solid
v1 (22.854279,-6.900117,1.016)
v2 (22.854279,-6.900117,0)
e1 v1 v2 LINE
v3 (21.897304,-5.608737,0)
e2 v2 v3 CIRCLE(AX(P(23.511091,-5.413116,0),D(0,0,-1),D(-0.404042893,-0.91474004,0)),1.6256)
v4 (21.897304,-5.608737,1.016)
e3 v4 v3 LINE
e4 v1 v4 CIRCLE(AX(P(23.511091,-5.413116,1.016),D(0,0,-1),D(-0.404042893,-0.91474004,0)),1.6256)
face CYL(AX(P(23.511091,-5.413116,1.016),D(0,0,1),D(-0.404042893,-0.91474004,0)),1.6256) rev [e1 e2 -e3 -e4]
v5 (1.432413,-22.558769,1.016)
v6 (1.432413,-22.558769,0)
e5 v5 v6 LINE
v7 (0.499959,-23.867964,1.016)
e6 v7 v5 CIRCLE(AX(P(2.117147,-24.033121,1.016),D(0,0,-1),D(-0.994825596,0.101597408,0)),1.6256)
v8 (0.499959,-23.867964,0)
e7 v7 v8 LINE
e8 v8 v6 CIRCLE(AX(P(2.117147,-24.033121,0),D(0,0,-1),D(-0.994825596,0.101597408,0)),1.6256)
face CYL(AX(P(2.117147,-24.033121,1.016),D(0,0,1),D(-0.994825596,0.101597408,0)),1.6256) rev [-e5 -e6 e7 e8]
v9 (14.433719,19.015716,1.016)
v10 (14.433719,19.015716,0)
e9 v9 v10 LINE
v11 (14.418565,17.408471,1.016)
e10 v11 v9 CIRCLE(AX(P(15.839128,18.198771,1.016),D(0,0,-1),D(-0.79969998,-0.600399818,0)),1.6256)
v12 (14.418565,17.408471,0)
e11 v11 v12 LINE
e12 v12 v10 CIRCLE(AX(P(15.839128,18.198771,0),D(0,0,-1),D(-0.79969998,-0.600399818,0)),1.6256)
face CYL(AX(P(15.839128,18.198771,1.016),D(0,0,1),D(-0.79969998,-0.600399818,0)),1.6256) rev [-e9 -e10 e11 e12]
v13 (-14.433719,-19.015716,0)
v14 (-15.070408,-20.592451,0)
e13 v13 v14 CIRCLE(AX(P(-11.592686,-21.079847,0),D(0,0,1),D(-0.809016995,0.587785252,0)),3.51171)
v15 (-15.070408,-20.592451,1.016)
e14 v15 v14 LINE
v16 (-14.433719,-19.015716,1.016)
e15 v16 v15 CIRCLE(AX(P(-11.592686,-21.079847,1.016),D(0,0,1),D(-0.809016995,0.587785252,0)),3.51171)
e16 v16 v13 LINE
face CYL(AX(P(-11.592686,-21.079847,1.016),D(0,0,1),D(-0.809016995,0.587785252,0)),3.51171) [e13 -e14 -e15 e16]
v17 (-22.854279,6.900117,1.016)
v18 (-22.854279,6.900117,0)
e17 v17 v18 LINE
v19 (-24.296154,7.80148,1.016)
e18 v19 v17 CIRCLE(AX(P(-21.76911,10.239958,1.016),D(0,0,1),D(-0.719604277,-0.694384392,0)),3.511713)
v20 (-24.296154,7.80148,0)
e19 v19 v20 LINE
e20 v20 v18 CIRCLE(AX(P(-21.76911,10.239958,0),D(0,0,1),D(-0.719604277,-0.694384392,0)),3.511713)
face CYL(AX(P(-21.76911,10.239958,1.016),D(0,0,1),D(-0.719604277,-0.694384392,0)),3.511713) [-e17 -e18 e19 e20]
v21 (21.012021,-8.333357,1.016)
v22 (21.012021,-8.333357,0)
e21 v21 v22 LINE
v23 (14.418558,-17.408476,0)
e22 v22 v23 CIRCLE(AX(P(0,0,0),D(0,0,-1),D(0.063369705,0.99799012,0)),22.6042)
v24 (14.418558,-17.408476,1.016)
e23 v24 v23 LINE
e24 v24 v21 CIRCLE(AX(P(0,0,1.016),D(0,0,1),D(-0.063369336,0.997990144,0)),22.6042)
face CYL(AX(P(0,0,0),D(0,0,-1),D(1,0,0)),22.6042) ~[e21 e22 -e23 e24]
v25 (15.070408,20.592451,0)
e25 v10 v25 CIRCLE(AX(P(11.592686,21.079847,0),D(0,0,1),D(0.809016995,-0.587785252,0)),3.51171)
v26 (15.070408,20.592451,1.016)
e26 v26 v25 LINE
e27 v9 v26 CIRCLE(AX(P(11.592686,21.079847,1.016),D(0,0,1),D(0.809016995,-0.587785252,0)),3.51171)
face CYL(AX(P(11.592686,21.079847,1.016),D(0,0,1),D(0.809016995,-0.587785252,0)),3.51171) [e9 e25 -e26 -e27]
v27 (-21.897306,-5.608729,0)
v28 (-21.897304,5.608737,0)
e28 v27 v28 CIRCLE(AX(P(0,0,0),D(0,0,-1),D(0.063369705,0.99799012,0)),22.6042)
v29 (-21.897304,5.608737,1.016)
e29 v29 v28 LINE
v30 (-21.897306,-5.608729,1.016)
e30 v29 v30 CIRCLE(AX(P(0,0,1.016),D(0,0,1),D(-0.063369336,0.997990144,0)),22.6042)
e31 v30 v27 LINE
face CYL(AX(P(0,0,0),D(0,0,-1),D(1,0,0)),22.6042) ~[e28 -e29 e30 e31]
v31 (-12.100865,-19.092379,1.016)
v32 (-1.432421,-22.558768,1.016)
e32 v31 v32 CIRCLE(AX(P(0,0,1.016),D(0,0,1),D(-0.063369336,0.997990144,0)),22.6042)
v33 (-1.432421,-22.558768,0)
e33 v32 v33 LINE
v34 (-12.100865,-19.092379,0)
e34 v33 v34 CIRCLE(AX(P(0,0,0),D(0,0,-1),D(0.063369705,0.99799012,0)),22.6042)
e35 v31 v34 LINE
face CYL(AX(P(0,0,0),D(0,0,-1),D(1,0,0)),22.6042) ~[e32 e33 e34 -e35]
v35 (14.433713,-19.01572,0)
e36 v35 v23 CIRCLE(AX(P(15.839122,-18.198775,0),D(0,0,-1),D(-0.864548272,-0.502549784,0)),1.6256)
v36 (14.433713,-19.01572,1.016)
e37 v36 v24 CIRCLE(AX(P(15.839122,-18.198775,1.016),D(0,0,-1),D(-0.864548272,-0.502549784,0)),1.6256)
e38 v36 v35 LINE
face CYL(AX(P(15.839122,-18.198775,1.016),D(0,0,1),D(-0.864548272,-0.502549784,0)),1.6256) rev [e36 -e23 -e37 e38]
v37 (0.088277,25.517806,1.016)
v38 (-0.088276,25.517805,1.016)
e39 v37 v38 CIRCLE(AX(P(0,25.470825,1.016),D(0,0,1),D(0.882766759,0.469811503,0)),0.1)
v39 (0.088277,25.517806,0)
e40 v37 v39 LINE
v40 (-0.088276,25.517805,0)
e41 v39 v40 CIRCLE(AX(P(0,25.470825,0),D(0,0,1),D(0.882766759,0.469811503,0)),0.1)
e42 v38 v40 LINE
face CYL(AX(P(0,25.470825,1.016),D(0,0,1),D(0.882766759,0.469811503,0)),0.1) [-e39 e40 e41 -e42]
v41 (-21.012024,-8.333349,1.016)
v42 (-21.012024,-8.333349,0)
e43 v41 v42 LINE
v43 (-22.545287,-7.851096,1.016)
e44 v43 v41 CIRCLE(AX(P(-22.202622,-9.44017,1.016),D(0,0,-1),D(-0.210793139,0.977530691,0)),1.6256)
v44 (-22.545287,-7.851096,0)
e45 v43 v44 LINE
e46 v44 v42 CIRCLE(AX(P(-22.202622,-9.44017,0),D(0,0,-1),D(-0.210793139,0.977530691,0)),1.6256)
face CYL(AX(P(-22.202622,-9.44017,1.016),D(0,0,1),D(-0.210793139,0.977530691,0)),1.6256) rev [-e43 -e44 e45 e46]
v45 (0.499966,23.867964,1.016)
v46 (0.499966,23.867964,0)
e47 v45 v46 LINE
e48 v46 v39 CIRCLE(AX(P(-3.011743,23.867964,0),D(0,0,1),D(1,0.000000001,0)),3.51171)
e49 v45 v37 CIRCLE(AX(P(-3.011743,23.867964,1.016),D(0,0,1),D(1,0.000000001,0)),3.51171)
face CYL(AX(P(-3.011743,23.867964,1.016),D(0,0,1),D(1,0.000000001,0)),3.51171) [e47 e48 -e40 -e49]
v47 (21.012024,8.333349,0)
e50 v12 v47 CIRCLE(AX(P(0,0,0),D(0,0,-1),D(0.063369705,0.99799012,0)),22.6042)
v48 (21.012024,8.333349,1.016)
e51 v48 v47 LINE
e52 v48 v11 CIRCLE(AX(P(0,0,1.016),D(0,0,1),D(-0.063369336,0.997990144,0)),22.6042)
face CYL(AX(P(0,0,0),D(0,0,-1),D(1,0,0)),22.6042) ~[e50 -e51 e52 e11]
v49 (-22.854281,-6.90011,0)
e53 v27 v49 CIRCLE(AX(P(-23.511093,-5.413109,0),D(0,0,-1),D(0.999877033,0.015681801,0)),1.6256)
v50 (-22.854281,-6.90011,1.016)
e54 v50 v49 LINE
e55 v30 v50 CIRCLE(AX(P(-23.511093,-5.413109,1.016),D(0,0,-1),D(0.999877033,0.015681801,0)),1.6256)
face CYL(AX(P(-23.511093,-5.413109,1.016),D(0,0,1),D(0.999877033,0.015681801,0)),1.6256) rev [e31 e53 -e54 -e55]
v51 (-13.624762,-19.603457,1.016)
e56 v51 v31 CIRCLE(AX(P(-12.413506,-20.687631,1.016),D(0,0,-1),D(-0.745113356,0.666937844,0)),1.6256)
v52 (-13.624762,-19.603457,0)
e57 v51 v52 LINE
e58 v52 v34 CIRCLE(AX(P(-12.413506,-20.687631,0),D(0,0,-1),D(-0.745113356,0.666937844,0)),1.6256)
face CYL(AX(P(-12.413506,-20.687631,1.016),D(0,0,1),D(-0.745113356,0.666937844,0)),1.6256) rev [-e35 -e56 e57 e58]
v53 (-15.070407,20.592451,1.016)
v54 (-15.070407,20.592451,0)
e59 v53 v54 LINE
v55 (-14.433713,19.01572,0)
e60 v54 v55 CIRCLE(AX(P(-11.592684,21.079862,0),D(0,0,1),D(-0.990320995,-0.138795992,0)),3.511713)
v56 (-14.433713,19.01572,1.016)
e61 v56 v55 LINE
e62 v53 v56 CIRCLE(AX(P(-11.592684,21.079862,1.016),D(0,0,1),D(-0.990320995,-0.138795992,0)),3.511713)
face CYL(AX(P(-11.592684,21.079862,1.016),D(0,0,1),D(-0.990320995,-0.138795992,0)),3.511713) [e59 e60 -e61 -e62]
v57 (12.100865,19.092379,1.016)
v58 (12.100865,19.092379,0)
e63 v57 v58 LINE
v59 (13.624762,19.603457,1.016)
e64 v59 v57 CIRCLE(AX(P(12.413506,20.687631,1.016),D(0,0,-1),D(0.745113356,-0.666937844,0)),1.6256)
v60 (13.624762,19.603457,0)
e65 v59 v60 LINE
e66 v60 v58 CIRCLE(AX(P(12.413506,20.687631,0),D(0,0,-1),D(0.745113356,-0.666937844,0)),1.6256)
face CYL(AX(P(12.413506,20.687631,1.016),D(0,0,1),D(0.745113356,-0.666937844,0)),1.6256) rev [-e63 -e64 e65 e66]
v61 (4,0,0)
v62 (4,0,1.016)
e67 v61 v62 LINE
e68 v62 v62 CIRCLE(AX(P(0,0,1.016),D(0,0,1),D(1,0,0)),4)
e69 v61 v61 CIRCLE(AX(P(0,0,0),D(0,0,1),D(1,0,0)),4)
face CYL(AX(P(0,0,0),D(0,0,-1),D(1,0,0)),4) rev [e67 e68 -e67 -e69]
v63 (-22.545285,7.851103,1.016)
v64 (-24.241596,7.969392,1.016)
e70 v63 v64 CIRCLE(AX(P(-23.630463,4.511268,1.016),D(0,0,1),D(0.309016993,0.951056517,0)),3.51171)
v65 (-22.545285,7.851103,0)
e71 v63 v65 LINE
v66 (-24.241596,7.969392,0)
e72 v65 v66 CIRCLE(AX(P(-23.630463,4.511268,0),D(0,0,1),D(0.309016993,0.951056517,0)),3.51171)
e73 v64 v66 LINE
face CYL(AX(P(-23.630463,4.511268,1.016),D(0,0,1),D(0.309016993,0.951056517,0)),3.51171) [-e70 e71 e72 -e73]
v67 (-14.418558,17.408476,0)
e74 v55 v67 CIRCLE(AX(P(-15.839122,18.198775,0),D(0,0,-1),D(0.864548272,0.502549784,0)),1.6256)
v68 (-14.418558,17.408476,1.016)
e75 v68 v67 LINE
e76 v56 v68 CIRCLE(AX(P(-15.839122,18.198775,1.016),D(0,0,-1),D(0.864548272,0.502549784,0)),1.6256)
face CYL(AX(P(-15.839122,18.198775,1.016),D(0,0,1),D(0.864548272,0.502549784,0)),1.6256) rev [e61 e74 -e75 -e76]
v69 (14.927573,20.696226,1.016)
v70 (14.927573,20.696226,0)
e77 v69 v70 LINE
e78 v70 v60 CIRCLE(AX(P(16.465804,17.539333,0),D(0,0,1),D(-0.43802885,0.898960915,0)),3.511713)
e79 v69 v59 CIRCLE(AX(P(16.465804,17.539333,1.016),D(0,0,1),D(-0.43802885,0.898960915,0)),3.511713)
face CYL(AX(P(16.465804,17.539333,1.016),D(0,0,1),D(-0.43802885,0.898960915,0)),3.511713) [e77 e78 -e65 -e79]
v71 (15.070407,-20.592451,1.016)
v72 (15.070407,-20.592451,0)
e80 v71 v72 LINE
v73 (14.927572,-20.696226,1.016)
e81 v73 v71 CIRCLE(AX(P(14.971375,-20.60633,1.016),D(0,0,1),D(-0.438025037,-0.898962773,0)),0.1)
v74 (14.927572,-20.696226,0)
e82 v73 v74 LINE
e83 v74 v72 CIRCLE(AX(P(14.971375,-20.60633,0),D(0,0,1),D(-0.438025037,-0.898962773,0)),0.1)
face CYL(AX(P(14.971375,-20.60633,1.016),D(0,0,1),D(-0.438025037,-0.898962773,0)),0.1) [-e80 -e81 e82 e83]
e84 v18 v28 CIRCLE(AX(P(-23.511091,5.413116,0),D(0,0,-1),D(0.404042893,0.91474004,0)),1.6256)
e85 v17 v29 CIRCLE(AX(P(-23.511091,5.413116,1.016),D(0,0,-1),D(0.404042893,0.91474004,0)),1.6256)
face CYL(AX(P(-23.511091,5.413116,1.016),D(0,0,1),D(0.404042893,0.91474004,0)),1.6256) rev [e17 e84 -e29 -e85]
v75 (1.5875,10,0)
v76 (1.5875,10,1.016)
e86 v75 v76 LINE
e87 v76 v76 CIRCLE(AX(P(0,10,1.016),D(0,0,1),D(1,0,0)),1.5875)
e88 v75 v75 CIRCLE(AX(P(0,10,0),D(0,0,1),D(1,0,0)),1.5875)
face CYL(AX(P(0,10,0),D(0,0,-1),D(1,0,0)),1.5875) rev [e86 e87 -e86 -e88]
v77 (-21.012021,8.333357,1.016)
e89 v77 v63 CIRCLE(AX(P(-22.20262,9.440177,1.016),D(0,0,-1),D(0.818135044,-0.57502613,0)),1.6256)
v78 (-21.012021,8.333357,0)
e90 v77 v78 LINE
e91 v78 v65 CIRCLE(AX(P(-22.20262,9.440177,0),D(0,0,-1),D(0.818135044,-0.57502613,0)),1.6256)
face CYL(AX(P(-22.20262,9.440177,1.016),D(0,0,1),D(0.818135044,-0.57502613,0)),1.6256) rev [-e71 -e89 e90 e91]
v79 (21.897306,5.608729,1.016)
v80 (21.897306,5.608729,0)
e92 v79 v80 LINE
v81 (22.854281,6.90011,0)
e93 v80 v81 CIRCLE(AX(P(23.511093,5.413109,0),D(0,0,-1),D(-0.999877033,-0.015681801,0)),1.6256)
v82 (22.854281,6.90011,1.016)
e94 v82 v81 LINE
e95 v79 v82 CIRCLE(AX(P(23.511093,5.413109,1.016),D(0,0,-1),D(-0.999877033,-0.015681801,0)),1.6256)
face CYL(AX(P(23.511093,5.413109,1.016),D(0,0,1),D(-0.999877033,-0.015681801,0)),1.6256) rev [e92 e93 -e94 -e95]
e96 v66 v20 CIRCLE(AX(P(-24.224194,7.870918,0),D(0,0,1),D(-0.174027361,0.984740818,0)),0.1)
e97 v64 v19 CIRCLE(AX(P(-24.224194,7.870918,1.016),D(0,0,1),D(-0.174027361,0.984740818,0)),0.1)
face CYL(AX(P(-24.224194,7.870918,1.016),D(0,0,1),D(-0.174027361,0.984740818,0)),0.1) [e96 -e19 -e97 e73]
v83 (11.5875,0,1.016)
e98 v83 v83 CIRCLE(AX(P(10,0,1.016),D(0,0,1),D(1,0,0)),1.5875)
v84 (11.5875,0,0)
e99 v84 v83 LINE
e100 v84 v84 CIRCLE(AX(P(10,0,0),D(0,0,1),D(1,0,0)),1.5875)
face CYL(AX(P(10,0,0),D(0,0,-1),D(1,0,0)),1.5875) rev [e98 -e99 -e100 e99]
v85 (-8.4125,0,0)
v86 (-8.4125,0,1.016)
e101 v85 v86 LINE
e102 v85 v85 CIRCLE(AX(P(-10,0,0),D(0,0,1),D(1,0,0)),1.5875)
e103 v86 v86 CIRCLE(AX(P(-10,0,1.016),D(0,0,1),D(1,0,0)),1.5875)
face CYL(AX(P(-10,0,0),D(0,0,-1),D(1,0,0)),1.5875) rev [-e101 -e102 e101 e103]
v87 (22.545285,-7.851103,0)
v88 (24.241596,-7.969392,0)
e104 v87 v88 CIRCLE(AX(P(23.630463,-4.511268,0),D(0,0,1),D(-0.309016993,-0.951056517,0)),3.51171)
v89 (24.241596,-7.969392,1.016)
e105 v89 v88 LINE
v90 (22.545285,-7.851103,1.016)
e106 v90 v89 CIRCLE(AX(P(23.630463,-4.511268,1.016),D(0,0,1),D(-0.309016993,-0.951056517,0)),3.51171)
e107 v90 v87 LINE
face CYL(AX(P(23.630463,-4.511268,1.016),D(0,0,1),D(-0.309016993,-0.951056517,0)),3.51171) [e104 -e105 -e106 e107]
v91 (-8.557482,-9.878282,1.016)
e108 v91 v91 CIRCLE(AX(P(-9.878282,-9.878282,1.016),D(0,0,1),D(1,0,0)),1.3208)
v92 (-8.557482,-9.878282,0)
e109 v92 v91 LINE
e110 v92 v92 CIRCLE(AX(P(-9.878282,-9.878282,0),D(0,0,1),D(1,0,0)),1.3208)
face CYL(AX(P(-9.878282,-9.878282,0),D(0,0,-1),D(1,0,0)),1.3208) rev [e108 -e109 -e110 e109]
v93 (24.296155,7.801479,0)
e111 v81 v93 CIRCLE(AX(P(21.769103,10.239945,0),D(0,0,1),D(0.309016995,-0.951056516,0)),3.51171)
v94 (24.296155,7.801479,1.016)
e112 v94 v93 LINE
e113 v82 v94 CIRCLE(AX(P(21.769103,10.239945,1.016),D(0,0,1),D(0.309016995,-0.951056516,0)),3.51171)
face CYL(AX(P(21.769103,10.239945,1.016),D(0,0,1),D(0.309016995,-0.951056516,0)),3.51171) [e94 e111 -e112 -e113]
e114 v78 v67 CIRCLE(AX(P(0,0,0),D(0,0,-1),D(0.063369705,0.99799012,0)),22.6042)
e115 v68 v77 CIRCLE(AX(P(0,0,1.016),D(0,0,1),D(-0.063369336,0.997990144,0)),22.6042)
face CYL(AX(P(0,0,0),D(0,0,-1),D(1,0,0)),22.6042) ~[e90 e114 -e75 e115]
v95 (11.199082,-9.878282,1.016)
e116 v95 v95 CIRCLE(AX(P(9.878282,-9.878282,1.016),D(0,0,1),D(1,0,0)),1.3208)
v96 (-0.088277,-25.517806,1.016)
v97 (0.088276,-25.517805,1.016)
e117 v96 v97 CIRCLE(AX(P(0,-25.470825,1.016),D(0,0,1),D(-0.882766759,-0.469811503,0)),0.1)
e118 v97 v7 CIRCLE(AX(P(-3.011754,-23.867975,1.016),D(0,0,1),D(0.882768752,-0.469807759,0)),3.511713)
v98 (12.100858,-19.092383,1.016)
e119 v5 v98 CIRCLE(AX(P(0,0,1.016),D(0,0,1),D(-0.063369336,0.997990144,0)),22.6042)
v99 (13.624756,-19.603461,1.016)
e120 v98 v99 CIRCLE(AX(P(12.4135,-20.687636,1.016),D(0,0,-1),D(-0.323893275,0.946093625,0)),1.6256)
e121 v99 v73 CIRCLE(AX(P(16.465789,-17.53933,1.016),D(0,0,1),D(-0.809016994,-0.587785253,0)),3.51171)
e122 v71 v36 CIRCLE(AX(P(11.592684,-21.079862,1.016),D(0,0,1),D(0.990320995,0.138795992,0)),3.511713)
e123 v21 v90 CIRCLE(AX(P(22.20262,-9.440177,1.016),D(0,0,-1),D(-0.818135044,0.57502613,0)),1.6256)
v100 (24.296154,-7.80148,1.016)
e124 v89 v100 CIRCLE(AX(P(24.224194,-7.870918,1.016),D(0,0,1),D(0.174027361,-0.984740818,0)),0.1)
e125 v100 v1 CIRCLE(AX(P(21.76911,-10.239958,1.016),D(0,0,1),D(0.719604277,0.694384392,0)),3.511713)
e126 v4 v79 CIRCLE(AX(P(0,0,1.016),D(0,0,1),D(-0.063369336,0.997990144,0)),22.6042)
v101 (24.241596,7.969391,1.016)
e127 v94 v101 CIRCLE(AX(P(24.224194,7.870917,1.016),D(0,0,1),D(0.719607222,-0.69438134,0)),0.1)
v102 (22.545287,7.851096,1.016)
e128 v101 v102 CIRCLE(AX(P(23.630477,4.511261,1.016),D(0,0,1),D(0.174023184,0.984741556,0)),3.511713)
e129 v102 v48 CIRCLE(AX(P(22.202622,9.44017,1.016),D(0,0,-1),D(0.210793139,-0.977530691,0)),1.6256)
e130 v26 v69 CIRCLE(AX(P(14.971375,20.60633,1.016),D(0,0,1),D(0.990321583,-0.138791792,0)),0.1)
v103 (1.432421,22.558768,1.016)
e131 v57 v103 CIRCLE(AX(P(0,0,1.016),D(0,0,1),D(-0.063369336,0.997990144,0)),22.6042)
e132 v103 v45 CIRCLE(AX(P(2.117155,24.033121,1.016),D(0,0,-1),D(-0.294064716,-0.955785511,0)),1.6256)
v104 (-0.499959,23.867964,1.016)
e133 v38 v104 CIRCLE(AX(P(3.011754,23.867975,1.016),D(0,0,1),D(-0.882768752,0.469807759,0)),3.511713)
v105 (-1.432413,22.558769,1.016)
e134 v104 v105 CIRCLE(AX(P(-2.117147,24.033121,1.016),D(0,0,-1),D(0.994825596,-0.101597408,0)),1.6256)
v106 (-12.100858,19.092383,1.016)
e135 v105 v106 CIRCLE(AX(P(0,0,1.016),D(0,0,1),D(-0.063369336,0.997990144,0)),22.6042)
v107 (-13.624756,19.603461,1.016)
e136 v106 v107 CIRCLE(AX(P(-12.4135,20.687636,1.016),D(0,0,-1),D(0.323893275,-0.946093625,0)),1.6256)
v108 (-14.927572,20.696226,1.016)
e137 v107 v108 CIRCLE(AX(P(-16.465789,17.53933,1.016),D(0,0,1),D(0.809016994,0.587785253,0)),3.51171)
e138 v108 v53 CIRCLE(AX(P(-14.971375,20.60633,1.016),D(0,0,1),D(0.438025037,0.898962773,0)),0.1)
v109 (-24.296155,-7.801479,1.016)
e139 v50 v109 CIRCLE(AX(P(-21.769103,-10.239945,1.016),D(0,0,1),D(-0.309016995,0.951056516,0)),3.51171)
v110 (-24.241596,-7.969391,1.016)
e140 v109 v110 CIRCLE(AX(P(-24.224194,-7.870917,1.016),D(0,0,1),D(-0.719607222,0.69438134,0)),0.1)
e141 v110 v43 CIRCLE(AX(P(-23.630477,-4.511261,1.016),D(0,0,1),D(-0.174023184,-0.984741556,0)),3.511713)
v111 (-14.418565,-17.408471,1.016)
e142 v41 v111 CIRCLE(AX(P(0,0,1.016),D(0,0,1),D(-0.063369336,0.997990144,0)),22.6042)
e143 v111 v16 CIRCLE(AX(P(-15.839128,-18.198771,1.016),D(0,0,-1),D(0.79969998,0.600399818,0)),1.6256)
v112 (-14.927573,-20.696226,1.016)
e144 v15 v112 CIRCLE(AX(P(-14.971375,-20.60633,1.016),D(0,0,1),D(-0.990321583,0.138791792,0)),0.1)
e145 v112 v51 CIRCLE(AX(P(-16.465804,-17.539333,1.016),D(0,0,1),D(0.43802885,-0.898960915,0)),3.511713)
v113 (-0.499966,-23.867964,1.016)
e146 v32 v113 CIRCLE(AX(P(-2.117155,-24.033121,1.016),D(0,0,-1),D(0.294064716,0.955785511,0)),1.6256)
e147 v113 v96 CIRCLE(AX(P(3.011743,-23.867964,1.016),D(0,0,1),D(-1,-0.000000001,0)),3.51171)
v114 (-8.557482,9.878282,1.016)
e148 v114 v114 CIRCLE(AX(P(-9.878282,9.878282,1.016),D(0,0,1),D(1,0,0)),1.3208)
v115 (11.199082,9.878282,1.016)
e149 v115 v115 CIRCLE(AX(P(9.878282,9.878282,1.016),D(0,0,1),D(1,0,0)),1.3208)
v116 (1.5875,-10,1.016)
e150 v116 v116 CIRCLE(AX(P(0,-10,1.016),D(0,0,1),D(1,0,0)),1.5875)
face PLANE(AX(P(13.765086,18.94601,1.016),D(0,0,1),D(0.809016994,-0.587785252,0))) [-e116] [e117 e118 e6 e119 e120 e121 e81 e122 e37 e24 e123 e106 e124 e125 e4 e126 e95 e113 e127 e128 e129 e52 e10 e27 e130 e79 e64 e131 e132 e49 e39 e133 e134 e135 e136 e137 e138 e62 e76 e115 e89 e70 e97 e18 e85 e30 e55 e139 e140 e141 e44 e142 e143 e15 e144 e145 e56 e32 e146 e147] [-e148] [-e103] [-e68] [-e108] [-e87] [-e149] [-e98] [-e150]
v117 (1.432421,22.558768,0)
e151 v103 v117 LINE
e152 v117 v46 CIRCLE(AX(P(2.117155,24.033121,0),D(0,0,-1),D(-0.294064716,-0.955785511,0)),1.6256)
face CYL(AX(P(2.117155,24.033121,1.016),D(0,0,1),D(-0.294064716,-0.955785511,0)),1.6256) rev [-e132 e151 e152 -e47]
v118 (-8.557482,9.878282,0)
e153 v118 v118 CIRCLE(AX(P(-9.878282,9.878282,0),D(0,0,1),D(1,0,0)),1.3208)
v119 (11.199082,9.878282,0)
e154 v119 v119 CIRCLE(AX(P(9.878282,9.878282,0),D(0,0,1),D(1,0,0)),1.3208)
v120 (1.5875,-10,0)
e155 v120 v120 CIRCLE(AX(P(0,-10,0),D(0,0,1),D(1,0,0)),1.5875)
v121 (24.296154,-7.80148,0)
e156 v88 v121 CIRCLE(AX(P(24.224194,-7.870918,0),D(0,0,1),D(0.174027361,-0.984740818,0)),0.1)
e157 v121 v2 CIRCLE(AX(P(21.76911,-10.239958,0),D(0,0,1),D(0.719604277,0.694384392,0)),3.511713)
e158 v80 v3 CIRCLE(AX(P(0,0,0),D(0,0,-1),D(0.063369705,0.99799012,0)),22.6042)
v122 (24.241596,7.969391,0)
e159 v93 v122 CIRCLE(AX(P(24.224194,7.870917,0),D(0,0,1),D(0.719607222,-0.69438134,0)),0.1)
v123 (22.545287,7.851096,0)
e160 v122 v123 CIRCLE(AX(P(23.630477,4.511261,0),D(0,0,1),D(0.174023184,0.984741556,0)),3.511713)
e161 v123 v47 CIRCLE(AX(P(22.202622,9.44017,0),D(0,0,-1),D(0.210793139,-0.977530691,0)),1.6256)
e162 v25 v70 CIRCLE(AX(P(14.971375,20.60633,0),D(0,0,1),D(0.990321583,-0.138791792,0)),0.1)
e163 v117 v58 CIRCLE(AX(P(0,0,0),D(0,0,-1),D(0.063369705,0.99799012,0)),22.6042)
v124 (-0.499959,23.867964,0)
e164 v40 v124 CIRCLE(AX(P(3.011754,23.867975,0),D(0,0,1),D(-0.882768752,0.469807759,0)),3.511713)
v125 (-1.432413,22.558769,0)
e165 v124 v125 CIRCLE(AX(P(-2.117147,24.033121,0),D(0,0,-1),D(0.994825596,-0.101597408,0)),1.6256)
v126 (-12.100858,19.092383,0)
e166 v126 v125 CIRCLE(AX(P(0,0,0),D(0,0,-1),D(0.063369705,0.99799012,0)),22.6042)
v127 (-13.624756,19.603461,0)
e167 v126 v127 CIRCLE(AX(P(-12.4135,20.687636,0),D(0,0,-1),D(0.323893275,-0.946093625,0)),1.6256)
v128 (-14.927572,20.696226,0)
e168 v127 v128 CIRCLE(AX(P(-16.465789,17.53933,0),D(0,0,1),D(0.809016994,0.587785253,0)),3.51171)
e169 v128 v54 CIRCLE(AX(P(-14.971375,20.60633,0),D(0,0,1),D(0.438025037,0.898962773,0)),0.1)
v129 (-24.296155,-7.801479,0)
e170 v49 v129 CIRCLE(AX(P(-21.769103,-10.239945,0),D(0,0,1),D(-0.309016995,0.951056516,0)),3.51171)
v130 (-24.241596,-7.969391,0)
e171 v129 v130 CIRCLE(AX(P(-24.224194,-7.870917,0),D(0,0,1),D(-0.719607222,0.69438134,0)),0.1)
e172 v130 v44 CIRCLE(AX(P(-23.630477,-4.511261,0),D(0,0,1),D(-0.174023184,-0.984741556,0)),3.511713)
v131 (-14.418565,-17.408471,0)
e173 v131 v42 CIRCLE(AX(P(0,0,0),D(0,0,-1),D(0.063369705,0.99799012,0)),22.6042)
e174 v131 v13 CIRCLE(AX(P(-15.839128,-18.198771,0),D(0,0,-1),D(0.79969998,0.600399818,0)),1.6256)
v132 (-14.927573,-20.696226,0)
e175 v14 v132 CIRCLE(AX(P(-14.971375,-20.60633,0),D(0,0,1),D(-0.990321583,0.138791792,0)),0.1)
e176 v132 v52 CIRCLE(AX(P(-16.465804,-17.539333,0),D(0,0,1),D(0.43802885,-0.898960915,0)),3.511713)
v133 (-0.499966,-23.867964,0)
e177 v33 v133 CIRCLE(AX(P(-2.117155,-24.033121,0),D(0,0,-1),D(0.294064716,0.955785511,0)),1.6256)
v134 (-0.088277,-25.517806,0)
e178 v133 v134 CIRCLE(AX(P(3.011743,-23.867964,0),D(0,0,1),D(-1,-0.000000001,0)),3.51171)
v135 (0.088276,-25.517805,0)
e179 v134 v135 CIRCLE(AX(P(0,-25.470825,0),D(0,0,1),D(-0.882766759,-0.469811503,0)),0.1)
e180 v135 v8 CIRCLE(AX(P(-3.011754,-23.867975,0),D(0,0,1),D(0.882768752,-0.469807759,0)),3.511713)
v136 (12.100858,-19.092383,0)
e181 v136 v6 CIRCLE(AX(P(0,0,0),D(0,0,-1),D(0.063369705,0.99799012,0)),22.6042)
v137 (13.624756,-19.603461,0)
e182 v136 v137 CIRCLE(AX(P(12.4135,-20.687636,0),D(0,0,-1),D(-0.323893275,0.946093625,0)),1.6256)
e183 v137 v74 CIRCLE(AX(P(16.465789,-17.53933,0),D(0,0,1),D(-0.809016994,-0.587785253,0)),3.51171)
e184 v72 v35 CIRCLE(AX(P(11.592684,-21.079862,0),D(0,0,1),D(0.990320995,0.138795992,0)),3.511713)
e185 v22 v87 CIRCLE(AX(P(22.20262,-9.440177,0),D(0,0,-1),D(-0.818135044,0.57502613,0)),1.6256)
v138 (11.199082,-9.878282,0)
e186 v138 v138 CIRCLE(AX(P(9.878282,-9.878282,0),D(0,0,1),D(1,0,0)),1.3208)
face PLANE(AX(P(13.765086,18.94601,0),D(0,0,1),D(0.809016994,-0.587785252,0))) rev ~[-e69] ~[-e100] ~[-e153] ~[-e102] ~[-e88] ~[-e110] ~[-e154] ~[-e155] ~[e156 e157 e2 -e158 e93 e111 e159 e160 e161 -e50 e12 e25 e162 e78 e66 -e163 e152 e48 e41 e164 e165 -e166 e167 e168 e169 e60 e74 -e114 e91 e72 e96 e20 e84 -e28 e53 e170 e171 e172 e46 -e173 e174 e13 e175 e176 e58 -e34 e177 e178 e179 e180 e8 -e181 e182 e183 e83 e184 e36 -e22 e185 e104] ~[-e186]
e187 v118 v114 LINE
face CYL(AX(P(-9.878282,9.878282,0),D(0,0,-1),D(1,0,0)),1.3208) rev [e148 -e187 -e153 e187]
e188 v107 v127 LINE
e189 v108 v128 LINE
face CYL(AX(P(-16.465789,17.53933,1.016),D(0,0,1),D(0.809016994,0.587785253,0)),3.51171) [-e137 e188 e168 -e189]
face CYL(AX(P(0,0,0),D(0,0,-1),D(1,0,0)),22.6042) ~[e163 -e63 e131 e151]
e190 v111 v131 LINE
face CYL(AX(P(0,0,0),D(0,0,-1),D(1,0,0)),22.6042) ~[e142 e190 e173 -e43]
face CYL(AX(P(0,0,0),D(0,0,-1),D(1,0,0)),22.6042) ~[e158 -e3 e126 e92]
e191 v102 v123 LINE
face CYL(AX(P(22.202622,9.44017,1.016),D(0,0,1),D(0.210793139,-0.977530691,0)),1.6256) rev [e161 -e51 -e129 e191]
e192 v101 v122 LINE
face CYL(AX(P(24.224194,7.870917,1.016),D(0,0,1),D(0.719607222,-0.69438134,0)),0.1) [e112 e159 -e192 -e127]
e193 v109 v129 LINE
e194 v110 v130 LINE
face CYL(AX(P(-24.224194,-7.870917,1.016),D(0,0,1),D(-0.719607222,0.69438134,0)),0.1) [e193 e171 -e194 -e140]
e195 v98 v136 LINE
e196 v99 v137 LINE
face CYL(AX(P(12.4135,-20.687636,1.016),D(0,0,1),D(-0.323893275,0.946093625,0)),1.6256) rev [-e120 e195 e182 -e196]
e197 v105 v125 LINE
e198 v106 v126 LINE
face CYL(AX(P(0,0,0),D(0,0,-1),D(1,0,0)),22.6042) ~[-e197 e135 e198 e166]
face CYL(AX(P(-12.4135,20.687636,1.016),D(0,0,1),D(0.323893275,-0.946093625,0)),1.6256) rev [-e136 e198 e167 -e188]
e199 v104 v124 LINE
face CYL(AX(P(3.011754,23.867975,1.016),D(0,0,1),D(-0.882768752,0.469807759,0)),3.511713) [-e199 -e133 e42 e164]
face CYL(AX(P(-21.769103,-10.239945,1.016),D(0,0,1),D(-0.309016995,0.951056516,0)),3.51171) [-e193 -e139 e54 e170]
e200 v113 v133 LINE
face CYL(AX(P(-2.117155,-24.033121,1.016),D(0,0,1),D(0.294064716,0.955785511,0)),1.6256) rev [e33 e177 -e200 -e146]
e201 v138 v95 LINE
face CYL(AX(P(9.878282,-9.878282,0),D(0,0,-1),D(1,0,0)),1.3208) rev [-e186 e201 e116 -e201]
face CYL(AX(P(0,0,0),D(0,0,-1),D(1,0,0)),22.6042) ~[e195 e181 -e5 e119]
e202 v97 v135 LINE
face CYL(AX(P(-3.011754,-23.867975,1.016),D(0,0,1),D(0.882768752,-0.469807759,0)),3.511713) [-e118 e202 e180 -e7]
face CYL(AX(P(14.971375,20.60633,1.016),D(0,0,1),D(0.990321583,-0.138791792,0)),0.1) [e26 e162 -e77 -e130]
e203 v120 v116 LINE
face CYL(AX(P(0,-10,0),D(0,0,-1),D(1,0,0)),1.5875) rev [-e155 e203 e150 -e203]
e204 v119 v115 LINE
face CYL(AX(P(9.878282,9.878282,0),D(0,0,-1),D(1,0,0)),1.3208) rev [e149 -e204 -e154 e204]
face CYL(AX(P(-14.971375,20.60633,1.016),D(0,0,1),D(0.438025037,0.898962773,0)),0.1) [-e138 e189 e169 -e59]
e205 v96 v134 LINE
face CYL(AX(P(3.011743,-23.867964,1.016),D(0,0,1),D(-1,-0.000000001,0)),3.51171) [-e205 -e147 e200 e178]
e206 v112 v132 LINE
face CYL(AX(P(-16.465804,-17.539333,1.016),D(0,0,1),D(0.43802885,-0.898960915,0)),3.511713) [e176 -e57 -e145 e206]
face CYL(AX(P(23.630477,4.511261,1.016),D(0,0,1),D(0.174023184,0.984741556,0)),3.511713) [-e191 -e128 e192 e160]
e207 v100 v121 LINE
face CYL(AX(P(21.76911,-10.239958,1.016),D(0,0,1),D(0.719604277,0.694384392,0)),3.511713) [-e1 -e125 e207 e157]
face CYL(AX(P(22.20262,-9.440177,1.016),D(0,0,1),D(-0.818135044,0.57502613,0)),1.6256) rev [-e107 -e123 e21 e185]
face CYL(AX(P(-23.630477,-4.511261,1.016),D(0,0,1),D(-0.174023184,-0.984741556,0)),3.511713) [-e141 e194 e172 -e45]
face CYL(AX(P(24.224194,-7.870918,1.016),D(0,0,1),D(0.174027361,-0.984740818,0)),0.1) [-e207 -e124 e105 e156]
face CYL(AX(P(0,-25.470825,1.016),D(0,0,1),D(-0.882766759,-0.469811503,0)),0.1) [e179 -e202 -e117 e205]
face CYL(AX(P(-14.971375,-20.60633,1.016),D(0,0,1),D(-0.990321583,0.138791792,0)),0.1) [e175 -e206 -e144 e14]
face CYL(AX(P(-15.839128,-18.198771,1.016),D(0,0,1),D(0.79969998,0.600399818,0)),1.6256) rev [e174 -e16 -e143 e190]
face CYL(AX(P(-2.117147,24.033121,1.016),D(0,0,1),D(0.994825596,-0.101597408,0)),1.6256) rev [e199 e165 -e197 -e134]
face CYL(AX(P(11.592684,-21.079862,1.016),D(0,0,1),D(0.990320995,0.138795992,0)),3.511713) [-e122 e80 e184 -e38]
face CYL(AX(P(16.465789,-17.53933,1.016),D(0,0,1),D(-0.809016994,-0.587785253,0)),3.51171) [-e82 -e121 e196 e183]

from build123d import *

# Parameters (mm, degrees)
SKETCH1_R           = 22.6042
SKETCH1_R_2         = 1.5875
SKETCH1_R_3         = 1.3208
SKETCH1_R_4         = 4
BOSS_EXTRUDE2_DEPTH = 1.016
BOSS_EXTRUDE4_DEPTH = 1.016
CIRPATTERN1_COUNT   = 10


with BuildPart() as part:
    # Sketch1 → Boss-Extrude2 (new body)
    with BuildSketch(Plane.XY):
        Circle(SKETCH1_R)
        with Locations((0, 10)):
            Circle(SKETCH1_R_2, mode=Mode.SUBTRACT)
        with Locations((9.878281733, -9.878281733)):
            Circle(SKETCH1_R_3, mode=Mode.SUBTRACT)
        with Locations((9.878281733, 9.878281733)):
            Circle(SKETCH1_R_3, mode=Mode.SUBTRACT)
        with Locations((-9.878281733, -9.878281733)):
            Circle(SKETCH1_R_3, mode=Mode.SUBTRACT)
        with Locations((-9.878281733, 9.878281733)):
            Circle(SKETCH1_R_3, mode=Mode.SUBTRACT)
        Circle(SKETCH1_R_4, mode=Mode.SUBTRACT)
        with Locations((10, 0)):
            Circle(SKETCH1_R_2, mode=Mode.SUBTRACT)
        with Locations((0, -10)):
            Circle(SKETCH1_R_2, mode=Mode.SUBTRACT)
        with Locations((-10, 0)):
            Circle(SKETCH1_R_2, mode=Mode.SUBTRACT)
    extrude(amount=BOSS_EXTRUDE2_DEPTH)

    # Sketch2 → Boss-Extrude4 (add)
    with BuildSketch(Plane.XY.offset(1.016)):
        with BuildLine():
            ThreePointArc((0.499966183, 23.867964213), (0.39548978, 24.71817963), (0.088277099, 25.517805758))
            ThreePointArc((0.088277099, 25.517805758), (2.11e-07, 25.570824608), (-0.088276453, 25.517805384))
            ThreePointArc((-0.088276453, 25.517805384), (-0.395485603, 24.718178984), (-0.499958974, 23.867964213))
            ThreePointArc((-0.499958974, 23.867964213), (-0.860359014, 23.002073844), (-1.63911586, 22.479396033))
            ThreePointArc((-1.63911586, 22.479396033), (3.604e-06, 22.249732232), (1.639123068, 22.479396033))
            ThreePointArc((1.639123068, 22.479396033), (0.860366222, 23.002073844), (0.499966183, 23.867964213))
        make_face()
    boss_extrude4 = extrude(amount=-BOSS_EXTRUDE4_DEPTH)

    # CirPattern1: Boss-Extrude4 ×10 about axis
    cirpattern1_axis = Axis((0, 0, 0), (0, 0, 1))
    for i in range(1, CIRPATTERN1_COUNT):
        add(boss_extrude4.rotate(cirpattern1_axis, i * 360 / CIRPATTERN1_COUNT))


solid = part.part
